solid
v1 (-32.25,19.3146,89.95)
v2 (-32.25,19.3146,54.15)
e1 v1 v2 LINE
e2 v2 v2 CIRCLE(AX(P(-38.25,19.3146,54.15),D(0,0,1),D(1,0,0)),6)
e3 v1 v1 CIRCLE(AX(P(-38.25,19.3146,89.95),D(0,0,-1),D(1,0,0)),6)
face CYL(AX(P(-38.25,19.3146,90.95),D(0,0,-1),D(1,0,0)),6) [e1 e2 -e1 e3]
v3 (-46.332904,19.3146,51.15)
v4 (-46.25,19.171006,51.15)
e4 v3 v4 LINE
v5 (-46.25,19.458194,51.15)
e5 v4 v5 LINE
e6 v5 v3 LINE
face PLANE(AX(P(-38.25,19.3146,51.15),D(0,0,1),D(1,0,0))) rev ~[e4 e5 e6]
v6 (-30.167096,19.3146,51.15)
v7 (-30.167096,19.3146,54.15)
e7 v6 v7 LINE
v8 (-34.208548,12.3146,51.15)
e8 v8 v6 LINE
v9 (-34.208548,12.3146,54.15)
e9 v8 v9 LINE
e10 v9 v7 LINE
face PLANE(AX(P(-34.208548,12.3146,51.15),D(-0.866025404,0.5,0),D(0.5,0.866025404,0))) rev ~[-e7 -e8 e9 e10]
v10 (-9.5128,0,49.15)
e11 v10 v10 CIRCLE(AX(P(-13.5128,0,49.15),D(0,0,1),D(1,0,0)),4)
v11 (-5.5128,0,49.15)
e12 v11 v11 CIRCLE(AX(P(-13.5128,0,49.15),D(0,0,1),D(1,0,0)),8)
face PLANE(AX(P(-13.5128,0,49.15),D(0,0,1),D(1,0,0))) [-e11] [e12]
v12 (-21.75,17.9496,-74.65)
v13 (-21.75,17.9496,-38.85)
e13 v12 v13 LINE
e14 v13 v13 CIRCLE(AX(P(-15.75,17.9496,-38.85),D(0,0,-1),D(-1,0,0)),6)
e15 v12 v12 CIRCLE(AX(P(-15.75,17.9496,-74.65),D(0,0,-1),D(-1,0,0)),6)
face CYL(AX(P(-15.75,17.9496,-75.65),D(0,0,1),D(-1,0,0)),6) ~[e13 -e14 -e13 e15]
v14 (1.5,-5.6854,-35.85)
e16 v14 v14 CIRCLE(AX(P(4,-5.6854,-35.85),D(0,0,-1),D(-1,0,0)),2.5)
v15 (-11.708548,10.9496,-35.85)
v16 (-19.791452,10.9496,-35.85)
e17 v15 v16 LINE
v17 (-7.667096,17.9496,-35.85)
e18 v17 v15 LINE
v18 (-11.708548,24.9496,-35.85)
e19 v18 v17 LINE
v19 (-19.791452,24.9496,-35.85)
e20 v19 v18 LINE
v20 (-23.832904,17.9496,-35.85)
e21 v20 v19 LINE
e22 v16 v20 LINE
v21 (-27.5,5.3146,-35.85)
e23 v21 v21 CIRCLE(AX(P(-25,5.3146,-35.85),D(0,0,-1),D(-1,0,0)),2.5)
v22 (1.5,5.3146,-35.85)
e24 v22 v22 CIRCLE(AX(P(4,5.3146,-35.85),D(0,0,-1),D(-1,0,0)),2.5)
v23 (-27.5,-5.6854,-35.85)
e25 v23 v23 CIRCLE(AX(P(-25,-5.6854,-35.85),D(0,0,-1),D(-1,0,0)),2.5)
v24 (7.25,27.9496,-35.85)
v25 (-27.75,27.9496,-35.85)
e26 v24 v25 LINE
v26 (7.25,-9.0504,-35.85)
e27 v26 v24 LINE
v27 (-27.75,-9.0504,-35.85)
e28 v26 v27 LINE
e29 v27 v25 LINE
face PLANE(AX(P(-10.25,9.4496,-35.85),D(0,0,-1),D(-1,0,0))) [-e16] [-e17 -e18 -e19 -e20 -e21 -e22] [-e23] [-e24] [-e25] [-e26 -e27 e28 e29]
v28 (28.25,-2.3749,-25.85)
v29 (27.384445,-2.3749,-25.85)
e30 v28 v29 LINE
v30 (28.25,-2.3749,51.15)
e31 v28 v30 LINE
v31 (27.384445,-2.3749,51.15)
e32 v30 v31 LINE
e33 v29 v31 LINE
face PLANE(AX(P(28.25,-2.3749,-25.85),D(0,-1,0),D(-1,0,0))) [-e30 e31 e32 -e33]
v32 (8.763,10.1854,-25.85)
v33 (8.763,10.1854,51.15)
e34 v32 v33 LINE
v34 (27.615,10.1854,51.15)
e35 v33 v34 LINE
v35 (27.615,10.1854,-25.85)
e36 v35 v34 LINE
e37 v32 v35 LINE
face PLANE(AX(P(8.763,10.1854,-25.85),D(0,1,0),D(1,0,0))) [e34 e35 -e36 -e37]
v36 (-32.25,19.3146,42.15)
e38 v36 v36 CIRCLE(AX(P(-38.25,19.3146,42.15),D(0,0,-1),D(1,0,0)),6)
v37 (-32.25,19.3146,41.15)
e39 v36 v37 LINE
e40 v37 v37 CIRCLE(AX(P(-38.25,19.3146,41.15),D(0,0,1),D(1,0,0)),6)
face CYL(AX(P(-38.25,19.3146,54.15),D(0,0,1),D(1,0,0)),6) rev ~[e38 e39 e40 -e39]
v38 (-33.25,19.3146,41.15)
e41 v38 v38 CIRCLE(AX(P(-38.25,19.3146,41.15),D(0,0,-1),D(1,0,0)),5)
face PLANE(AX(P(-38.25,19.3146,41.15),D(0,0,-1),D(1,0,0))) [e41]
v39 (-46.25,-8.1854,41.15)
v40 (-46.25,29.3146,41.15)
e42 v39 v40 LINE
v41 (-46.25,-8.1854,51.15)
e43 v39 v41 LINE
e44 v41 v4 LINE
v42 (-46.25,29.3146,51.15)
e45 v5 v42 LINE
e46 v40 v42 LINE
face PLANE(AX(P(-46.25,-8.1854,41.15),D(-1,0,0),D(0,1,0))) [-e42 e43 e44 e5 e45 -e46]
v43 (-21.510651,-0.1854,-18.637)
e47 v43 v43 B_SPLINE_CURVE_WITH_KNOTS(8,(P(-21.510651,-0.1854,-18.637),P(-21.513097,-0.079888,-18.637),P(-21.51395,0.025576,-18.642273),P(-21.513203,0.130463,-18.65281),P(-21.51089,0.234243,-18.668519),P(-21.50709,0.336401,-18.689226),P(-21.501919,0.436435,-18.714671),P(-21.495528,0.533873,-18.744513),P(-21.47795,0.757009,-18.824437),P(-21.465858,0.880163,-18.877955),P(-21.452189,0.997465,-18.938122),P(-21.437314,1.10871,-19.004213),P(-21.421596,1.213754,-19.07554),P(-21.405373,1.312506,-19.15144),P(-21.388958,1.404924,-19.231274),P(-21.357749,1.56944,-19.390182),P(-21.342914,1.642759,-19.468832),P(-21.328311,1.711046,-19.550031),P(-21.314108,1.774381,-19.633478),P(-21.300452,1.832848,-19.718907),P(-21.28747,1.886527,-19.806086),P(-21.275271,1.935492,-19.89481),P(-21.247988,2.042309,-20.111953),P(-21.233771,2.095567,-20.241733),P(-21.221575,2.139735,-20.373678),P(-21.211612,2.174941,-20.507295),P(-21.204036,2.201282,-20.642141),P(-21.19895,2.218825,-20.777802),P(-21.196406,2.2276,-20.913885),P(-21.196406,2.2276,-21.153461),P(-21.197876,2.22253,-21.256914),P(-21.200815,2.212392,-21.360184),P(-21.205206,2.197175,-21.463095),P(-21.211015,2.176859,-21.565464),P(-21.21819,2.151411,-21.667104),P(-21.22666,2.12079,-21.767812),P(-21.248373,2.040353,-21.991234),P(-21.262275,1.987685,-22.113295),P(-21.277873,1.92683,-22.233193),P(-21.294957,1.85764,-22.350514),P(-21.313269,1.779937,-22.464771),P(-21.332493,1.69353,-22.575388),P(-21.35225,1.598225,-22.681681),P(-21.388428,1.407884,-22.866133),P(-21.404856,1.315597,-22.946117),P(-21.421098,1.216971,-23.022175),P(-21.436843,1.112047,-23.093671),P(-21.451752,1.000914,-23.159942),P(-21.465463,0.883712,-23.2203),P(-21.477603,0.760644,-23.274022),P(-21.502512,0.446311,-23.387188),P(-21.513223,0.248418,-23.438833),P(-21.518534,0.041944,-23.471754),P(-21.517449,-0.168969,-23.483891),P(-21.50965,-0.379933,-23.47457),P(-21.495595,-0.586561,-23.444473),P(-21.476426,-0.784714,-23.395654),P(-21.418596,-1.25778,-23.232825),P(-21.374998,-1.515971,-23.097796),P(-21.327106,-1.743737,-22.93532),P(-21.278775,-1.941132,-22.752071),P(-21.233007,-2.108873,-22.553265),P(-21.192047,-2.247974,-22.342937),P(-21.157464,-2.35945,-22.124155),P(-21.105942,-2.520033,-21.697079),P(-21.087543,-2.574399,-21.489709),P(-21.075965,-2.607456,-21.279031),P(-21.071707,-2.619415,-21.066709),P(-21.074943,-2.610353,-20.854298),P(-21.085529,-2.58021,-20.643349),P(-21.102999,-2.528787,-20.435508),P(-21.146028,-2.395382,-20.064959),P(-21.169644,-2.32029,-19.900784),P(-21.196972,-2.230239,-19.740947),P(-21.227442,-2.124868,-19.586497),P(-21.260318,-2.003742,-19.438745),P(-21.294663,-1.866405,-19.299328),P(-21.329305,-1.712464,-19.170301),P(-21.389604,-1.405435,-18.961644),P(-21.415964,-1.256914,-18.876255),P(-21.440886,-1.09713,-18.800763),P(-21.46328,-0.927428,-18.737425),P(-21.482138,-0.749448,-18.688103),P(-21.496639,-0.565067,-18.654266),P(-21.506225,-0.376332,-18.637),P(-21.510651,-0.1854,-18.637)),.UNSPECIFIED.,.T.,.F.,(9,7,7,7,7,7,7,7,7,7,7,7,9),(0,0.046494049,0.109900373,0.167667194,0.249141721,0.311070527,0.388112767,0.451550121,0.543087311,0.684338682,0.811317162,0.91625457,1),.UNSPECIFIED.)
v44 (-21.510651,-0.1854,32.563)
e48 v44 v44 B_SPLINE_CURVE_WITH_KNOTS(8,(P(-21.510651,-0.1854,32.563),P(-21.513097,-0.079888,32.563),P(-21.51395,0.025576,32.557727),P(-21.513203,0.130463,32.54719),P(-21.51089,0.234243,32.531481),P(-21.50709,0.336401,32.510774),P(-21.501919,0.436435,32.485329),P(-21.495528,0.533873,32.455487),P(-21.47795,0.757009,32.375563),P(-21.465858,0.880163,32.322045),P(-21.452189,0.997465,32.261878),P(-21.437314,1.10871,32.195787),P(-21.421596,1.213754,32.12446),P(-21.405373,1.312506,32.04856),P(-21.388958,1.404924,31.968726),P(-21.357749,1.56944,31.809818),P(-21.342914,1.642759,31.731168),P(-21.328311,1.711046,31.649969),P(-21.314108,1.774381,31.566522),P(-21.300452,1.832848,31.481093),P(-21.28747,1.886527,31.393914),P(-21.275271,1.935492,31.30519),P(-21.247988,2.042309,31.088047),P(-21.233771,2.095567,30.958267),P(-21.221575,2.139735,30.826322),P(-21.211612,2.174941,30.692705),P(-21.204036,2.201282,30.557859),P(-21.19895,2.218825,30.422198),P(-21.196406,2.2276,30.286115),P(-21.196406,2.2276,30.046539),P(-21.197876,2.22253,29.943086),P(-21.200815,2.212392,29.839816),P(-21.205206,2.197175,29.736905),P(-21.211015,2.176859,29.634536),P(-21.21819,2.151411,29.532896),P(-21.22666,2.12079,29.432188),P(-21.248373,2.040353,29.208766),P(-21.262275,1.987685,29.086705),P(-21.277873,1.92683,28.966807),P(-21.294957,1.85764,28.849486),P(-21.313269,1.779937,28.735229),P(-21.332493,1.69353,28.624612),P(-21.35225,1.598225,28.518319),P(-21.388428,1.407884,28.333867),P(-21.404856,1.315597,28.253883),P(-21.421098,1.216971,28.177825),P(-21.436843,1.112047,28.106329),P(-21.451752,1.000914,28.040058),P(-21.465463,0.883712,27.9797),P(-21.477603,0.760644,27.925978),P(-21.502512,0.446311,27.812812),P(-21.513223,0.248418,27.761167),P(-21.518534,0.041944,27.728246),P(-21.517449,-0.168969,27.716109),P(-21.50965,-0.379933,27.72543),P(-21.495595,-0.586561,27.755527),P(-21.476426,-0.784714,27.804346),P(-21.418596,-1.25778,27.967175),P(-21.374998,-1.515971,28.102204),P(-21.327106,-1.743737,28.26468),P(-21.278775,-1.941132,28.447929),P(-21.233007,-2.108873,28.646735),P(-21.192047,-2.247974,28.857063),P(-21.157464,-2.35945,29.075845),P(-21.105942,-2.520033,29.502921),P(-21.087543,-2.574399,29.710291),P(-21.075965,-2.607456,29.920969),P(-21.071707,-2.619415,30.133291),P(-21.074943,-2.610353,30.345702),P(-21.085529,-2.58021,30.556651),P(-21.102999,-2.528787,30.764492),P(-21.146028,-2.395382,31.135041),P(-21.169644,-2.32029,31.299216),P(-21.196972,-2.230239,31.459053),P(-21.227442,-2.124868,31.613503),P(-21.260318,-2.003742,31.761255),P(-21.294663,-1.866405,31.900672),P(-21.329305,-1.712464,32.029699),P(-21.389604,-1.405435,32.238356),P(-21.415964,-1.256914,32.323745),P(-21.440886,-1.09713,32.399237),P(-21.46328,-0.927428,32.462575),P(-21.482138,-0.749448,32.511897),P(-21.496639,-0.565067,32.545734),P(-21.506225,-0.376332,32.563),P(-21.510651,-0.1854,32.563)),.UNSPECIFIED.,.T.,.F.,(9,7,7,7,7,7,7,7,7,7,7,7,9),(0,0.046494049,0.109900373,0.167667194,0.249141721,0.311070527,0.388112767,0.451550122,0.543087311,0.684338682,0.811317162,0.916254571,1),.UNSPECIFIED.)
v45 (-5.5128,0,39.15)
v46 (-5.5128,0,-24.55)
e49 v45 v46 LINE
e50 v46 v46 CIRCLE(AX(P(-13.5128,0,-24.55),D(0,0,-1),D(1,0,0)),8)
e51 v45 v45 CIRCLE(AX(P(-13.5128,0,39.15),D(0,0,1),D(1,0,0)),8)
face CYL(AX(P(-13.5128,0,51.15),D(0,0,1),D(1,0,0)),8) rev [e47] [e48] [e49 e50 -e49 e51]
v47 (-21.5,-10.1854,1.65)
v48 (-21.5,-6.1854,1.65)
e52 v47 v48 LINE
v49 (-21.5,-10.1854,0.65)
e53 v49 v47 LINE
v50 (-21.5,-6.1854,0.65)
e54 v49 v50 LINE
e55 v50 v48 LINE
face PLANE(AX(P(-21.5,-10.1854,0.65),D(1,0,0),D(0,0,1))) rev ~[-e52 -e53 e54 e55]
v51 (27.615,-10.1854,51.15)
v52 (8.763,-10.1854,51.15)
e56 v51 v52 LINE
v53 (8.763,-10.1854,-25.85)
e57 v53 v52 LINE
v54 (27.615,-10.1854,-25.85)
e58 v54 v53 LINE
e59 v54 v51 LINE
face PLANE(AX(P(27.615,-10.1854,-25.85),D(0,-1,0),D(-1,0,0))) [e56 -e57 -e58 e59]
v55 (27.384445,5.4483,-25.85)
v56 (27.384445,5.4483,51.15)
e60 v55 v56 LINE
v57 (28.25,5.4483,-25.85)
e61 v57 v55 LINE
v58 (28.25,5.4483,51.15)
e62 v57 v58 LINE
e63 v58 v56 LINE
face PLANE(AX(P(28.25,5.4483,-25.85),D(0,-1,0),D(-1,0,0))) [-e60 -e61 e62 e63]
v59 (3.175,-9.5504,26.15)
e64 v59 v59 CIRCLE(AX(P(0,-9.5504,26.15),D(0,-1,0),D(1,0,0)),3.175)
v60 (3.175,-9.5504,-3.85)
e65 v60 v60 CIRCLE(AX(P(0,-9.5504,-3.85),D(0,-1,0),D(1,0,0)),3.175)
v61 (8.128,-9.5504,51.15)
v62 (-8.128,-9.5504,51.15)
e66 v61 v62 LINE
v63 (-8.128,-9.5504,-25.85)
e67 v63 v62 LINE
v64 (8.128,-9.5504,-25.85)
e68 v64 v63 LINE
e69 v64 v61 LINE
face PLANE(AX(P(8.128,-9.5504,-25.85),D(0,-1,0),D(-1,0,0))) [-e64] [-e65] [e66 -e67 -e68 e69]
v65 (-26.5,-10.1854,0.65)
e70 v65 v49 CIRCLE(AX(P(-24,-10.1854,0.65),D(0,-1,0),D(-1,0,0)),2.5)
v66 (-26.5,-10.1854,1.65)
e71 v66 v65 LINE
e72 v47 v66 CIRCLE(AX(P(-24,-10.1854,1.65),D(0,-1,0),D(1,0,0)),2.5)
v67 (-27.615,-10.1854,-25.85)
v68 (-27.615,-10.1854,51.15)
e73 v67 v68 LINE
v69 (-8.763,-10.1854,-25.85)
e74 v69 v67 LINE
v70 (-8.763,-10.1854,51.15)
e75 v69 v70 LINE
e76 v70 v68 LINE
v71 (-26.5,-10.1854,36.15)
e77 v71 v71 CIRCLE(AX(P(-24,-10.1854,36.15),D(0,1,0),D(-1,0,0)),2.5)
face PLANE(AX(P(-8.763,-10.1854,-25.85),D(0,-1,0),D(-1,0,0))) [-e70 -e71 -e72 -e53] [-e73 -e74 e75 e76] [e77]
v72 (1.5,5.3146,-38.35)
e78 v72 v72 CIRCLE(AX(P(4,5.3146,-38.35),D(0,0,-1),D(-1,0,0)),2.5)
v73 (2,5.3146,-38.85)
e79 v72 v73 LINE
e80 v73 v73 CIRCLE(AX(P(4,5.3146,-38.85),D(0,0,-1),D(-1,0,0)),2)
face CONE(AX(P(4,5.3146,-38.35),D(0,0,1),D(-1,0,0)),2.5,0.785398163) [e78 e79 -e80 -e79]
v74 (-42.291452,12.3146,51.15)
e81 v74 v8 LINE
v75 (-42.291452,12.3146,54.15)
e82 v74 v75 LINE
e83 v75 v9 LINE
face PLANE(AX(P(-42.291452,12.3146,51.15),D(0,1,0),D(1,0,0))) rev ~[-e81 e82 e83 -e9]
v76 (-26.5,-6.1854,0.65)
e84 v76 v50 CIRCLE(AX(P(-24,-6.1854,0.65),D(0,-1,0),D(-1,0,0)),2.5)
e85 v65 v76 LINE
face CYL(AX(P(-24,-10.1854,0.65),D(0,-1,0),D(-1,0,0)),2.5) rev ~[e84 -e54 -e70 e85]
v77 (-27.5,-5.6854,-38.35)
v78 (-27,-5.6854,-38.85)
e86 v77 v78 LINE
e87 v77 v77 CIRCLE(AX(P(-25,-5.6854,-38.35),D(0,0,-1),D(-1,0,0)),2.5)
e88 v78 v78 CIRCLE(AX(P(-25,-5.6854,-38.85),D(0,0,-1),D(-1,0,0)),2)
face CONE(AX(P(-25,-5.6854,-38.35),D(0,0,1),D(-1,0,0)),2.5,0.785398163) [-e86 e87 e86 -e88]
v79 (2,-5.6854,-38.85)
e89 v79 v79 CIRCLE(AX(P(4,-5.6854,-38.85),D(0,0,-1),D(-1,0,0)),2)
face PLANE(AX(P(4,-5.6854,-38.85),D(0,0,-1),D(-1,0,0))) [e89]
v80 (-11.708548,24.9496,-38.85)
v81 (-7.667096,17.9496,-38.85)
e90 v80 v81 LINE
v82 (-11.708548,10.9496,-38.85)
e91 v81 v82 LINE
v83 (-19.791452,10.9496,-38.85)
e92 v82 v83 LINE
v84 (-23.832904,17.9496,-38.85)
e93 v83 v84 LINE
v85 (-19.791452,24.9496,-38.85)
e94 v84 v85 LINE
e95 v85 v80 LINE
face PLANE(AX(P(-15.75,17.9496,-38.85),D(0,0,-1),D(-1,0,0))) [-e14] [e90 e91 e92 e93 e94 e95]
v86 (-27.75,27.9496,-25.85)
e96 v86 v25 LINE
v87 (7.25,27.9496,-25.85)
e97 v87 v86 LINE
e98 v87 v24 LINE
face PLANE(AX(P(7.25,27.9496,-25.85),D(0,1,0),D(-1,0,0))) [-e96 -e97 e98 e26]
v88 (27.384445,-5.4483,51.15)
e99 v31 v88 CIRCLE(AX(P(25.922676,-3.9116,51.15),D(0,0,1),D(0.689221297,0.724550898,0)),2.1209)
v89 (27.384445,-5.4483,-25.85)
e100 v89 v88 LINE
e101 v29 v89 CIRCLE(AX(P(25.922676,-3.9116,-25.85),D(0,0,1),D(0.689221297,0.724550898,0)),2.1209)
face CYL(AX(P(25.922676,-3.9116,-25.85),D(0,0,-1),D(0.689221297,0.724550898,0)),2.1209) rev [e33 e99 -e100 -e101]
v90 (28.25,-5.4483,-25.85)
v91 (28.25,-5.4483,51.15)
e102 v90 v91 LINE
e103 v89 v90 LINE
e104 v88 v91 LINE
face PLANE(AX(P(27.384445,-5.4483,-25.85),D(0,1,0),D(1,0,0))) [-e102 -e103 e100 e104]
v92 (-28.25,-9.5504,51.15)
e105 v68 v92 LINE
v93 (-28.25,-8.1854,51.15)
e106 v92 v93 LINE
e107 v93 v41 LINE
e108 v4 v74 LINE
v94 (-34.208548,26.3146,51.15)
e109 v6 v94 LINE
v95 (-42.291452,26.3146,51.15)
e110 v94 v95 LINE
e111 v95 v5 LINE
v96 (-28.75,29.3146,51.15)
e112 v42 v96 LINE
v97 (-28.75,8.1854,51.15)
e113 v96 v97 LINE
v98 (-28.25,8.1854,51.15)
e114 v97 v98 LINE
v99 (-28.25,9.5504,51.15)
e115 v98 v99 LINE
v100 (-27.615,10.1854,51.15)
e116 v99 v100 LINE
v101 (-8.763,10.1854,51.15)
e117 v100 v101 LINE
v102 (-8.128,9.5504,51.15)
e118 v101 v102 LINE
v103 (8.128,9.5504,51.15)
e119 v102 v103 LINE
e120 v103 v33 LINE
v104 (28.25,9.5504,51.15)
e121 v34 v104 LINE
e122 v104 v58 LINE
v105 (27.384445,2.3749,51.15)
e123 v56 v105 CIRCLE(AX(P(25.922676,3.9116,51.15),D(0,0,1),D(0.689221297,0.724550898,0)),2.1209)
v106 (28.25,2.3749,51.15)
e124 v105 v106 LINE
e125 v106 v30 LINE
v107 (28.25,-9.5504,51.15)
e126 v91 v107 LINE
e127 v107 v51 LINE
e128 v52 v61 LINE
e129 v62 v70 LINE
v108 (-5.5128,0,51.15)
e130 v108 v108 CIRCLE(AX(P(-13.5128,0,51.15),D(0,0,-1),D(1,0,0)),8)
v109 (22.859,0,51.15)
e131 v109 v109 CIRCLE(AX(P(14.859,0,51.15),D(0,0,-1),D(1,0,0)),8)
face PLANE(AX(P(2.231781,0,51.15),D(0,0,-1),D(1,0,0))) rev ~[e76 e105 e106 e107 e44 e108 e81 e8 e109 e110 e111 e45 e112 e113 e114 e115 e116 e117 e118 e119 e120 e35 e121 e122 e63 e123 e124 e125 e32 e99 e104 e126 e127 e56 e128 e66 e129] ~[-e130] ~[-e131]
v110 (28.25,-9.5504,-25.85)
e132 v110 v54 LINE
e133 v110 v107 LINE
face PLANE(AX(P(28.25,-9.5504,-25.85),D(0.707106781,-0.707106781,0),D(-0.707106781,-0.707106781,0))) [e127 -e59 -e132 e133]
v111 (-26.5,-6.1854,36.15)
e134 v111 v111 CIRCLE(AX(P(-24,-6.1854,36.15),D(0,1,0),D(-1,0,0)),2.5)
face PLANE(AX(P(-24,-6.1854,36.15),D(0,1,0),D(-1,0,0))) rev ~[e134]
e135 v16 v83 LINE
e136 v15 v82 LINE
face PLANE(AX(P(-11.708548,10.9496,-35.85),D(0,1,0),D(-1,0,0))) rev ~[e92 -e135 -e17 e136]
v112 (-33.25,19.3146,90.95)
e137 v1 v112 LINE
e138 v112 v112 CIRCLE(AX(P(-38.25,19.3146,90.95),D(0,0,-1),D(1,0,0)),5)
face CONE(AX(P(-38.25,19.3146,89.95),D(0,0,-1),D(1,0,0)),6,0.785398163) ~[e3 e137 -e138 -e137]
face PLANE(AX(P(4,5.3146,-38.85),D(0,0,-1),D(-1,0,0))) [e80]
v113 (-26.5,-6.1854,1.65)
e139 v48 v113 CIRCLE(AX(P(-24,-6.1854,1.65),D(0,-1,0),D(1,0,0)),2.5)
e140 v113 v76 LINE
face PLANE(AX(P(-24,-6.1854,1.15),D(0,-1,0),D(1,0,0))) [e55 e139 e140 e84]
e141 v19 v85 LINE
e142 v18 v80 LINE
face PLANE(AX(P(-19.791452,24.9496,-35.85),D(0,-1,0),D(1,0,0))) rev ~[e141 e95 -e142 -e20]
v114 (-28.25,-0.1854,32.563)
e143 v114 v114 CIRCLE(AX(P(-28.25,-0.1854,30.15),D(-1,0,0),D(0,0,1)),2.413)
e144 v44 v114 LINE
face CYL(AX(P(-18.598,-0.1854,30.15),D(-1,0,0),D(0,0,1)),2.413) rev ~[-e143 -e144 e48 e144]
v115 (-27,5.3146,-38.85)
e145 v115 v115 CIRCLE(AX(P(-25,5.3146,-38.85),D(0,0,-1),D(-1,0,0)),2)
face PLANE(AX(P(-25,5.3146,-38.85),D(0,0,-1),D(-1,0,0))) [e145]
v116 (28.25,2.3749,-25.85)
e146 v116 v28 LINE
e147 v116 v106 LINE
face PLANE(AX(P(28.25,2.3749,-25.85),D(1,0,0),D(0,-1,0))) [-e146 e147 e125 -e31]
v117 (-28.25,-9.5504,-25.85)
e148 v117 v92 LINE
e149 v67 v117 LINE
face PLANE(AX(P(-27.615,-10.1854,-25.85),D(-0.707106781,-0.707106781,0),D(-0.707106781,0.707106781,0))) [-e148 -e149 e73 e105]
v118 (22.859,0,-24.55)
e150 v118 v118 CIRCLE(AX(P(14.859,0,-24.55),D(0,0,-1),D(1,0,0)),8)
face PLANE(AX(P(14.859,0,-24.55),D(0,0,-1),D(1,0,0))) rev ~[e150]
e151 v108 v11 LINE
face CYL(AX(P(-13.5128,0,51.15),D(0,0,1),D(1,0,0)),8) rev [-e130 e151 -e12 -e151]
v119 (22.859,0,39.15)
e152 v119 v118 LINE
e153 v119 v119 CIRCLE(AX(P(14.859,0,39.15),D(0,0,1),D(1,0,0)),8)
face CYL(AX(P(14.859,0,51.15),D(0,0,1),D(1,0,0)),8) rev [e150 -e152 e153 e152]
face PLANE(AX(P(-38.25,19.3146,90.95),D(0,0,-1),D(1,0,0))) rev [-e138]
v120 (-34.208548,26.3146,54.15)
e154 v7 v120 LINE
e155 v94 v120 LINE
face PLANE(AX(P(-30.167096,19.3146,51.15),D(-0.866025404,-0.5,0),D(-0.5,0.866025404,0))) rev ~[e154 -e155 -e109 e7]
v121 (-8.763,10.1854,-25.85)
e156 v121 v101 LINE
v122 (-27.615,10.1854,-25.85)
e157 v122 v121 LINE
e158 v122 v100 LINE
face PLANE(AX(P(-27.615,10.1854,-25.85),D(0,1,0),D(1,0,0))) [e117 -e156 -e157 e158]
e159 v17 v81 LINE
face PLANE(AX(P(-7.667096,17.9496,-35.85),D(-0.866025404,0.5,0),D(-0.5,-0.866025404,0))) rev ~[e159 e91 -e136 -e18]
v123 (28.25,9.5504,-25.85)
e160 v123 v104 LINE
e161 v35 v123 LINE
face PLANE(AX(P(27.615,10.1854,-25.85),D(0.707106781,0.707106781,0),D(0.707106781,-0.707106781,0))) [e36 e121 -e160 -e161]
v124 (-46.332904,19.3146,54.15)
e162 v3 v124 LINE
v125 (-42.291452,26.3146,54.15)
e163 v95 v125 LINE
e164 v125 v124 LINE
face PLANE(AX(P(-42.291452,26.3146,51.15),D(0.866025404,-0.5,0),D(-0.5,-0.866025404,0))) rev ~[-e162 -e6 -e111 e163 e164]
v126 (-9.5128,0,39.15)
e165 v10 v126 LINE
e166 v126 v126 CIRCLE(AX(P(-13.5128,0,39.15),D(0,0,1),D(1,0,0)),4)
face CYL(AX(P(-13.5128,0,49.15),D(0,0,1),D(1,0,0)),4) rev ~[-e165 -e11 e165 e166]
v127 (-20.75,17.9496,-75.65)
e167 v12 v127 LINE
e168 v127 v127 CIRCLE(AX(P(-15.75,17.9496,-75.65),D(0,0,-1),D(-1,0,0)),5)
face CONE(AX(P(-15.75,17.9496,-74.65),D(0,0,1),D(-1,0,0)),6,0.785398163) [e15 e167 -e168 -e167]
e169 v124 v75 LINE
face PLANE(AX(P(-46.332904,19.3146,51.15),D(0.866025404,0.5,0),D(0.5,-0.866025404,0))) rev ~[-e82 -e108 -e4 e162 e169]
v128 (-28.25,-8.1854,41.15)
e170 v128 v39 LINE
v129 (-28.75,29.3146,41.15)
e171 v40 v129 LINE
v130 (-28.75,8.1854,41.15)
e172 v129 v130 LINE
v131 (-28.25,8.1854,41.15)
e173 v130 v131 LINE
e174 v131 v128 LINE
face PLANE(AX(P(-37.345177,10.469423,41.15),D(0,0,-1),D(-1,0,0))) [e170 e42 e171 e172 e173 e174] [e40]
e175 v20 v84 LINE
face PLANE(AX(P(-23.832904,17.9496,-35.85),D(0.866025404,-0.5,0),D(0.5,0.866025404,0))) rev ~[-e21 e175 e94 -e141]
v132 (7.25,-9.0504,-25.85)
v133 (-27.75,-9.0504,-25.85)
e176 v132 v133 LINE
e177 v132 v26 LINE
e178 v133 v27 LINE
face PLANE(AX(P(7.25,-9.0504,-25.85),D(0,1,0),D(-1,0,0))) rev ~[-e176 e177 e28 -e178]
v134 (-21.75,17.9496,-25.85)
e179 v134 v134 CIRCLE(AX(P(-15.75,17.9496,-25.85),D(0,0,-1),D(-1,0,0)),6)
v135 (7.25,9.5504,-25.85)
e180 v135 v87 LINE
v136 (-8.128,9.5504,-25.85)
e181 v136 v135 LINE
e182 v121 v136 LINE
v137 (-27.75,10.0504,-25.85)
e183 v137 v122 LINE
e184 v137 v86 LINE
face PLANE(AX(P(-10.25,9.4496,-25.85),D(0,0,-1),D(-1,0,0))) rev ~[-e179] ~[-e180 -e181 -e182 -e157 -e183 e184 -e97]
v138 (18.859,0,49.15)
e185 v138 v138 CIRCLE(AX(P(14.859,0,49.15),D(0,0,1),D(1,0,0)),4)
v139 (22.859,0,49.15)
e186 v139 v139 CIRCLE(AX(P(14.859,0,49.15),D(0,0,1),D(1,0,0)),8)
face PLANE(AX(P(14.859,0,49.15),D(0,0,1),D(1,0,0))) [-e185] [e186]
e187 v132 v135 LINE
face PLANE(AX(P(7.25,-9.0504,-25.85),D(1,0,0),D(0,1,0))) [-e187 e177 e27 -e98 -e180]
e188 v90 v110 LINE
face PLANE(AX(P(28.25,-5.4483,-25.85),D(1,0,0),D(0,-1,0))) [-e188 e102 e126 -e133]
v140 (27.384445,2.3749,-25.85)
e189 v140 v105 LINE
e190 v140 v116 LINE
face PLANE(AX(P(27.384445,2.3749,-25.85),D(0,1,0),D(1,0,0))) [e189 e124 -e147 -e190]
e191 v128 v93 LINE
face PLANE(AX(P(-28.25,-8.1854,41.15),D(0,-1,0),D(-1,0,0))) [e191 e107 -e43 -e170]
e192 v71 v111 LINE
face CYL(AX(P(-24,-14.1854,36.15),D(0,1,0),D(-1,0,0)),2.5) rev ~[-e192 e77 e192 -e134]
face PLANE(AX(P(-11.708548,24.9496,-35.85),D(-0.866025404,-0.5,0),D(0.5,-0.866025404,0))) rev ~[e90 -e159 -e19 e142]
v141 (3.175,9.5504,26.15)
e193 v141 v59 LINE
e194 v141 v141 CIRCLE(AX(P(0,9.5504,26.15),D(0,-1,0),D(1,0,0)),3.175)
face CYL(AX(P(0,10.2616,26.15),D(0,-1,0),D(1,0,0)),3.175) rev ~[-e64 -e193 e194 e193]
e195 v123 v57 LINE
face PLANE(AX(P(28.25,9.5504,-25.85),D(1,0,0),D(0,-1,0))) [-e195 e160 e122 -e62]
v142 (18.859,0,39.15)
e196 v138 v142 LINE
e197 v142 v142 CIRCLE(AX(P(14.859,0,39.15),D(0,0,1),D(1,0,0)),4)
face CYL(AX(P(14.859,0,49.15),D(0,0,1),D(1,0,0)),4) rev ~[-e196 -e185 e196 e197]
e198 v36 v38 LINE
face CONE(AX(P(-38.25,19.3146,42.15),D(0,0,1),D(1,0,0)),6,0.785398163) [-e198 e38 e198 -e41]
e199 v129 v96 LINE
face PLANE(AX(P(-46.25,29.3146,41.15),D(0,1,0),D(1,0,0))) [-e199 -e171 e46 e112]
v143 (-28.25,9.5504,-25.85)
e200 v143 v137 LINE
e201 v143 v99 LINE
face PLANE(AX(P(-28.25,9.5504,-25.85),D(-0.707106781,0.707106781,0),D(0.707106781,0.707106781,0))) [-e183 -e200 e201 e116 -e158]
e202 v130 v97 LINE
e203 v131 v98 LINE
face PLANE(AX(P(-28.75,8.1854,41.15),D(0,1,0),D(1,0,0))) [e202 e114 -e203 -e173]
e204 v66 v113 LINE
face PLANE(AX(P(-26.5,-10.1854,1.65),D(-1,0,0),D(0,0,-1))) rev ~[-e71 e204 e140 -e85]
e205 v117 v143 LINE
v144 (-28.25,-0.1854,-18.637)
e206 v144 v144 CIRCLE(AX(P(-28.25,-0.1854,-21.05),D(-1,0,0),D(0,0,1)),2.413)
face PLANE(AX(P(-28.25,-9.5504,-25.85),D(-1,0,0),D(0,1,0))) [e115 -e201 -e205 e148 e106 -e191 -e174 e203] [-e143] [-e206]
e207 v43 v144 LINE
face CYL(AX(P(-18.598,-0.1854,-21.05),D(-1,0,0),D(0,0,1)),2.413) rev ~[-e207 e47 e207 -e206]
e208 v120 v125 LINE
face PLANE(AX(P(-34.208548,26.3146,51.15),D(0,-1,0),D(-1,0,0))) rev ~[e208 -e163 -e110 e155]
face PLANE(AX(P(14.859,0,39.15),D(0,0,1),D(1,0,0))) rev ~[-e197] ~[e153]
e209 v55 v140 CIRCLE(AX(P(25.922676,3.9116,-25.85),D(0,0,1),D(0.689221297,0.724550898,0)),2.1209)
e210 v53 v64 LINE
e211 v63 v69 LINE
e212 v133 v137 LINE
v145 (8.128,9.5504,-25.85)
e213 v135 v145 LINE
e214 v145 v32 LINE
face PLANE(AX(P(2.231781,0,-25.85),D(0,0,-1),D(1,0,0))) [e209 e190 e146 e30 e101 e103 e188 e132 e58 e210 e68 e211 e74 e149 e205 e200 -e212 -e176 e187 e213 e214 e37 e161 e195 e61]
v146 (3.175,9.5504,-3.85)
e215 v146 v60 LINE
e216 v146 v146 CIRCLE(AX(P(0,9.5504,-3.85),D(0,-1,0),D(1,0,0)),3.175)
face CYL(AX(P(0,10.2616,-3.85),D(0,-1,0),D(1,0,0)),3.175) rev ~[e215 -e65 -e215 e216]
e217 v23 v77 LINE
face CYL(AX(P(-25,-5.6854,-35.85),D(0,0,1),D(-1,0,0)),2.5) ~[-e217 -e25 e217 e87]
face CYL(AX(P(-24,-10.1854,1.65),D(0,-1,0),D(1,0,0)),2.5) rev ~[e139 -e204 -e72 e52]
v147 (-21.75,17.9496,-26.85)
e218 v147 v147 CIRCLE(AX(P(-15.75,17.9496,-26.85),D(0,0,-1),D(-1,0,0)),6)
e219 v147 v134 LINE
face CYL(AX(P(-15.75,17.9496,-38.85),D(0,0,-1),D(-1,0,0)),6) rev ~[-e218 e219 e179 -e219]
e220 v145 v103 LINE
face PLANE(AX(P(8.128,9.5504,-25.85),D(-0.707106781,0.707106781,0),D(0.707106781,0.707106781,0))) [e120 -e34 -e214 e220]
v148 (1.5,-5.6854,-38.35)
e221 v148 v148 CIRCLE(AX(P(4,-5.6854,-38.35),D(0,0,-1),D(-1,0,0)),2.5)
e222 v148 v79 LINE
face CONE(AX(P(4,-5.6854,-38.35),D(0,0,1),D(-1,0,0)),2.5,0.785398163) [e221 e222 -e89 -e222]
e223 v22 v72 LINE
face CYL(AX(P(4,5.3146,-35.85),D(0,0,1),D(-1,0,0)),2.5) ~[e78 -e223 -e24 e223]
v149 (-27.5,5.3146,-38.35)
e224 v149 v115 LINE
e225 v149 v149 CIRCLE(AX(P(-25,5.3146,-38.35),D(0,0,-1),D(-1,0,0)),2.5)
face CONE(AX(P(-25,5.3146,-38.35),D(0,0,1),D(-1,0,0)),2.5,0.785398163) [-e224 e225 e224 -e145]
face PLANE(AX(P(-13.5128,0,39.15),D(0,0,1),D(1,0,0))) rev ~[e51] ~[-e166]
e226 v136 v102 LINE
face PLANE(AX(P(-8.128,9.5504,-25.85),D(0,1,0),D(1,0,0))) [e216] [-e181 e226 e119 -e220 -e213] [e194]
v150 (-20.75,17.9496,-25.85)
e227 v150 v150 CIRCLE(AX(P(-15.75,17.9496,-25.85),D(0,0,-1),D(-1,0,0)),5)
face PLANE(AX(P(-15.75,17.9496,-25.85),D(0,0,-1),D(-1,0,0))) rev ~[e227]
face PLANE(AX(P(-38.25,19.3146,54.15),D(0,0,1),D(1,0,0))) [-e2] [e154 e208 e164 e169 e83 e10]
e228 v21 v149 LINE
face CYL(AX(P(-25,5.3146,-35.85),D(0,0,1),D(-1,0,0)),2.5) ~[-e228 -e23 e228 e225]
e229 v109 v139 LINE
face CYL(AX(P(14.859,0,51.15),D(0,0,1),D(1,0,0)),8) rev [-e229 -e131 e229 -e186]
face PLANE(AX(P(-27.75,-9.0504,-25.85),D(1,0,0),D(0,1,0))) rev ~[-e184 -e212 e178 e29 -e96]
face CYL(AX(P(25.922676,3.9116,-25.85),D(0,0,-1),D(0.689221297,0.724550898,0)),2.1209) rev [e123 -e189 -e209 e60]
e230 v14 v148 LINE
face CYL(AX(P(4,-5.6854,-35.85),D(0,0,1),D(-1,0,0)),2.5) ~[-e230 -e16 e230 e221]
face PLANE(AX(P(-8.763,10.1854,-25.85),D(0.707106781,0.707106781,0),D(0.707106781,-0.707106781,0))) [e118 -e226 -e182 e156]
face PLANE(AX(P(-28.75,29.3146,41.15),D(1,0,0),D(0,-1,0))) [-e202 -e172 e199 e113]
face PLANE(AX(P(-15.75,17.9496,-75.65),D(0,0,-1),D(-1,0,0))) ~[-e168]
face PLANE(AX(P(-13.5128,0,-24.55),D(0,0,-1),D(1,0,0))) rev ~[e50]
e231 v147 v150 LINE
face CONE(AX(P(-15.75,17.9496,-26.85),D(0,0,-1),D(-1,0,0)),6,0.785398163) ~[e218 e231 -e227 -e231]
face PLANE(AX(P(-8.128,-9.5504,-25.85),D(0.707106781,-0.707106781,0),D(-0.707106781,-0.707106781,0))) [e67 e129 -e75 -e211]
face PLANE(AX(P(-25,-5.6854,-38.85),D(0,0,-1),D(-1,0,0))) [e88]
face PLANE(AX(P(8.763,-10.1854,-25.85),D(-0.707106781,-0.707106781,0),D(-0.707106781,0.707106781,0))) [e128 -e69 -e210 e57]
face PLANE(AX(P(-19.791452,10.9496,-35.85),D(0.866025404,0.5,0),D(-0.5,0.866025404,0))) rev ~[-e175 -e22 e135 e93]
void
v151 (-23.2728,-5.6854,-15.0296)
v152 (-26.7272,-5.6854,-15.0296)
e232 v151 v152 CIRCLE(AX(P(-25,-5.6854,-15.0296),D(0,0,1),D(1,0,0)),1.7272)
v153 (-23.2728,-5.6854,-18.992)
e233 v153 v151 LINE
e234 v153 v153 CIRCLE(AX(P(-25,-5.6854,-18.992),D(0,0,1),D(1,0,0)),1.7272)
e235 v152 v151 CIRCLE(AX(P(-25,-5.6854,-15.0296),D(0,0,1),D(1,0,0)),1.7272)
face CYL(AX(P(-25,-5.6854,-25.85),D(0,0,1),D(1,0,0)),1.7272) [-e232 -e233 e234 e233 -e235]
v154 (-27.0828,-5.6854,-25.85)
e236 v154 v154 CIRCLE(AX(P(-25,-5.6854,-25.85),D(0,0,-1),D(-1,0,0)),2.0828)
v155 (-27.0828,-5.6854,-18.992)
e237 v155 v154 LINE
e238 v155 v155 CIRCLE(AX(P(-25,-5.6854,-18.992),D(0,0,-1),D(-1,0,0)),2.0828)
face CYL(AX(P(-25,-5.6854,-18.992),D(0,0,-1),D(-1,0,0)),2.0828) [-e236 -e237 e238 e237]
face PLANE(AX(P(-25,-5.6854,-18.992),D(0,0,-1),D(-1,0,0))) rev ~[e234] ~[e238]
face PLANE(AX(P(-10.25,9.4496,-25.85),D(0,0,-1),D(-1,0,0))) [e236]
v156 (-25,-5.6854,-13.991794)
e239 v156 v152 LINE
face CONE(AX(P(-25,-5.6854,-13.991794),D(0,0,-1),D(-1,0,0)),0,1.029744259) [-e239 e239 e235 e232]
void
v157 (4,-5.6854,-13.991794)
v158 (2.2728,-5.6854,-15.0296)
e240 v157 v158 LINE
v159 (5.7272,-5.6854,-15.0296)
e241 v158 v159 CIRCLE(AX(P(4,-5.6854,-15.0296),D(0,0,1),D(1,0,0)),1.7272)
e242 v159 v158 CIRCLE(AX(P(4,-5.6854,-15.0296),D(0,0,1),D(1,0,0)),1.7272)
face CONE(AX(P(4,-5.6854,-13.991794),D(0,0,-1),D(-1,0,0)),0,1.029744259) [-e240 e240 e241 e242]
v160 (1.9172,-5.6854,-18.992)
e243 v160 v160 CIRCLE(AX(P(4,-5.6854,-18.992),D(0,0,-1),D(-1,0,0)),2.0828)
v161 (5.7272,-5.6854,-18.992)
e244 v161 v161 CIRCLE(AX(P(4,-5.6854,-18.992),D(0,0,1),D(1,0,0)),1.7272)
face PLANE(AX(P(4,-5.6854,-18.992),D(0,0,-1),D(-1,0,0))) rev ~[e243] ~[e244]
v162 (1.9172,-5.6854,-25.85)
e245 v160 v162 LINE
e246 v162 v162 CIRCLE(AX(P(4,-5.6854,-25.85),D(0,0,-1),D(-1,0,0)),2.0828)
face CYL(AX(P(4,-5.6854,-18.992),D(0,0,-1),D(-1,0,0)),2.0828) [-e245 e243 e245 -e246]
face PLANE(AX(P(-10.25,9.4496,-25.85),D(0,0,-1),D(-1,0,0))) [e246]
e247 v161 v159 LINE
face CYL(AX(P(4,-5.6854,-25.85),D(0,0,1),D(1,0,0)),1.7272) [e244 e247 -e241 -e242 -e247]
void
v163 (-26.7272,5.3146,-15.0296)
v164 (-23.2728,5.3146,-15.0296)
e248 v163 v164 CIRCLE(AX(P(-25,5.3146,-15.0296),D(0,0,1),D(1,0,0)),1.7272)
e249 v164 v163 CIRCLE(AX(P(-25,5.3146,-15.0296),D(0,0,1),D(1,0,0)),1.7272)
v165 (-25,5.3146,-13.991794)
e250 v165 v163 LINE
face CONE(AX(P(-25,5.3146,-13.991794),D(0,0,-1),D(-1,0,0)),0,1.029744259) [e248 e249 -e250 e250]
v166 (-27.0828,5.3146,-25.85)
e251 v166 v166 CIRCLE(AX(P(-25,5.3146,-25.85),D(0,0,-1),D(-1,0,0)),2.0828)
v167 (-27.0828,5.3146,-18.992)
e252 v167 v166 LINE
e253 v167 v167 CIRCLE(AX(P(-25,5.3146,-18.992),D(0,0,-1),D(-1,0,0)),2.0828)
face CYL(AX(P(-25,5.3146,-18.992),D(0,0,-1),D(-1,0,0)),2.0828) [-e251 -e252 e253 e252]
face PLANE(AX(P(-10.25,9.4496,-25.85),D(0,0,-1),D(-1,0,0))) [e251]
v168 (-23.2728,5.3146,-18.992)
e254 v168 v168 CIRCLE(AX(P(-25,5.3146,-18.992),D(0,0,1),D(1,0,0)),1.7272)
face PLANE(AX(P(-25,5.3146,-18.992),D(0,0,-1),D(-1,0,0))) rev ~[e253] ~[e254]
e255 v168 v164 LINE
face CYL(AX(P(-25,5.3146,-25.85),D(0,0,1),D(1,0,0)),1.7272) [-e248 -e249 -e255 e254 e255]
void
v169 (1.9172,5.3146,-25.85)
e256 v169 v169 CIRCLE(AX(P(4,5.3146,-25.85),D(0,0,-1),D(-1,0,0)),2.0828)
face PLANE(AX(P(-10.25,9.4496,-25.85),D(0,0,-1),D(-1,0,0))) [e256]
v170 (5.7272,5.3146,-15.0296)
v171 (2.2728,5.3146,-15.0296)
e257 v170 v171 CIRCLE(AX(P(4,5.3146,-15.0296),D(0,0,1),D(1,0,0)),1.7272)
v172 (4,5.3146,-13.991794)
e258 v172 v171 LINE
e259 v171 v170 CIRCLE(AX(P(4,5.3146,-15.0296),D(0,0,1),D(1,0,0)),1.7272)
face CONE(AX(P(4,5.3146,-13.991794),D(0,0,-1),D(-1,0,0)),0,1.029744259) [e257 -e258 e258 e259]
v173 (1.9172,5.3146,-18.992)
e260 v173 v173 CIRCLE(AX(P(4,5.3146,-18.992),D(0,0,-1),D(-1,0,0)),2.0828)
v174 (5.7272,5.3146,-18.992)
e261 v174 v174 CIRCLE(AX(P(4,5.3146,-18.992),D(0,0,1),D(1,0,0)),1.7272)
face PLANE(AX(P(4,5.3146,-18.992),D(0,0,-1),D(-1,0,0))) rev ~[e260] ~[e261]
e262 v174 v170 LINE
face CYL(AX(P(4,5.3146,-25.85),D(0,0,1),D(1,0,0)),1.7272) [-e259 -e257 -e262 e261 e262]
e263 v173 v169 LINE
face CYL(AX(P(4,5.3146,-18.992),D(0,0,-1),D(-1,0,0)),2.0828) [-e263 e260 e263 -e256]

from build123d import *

# Parameters (mm, degrees)
BASE_EXTRUDE_START                = -77
BASE_EXTRUDE_DEPTH                = 77
SKETCH2_R                         = 8
CUT_EXTRUDE1_DEPTH                = 75.7
SKETCH4_R                         = 8
BOSS_EXTRUDE1_DEPTH               = 10
CUT_EXTRUDE3_REACH                = 82.789
SKETCH19_R                        = 4
F_1_4_20_TAPPED_HOLE1_D           = 5.1054
F_1_4_20_TAPPED_HOLE1_DEPTH       = 26.162
F_1_4_20_TAPPED_HOLE1_CBORE_D     = 6.35
F_1_4_20_TAPPED_HOLE1_CBORE_DEPTH = 19.812
F_1_4_20_TAPPED_HOLE1_TIP         = 1.533816902
F_8_32_TAPPED_HOLE1_D             = 3.4544
F_8_32_TAPPED_HOLE1_DEPTH         = 10.8204
F_8_32_TAPPED_HOLE1_CBORE_D       = 4.1656
F_8_32_TAPPED_HOLE1_CBORE_DEPTH   = 6.858
F_8_32_TAPPED_HOLE1_TIP           = 1.037806461
HOLE1_D                           = 5
HOLE1_DEPTH                       = 4
CUT_EXTRUDE4_DEPTH                = 4
F_10_32_TAPPED_HOLE1_D            = 4.0386
F_10_32_TAPPED_HOLE1_DEPTH        = 13.6144
F_10_32_TAPPED_HOLE1_CBORE_D      = 4.826
F_10_32_TAPPED_HOLE1_CBORE_DEPTH  = 9.652
F_10_32_TAPPED_HOLE1_TIP          = 1.213317848
SKETCH30_W                        = 35
SKETCH30_H                        = 37
BOSS_EXTRUDE2_DEPTH               = 10
BOSS_EXTRUDE3_DEPTH               = 3
SKETCH35_R                        = 2.5
BOSS_EXTRUDE5_DEPTH               = 3
CHAMFER2_SIZE                     = 0.5
BOSS_EXTRUDE6_DEPTH               = 10
BOSS_EXTRUDE7_DEPTH               = 3
CUT_EXTRUDE7_REACH                = 109.959
SKETCH38_R                        = 6
CUT_EXTRUDE8_REACH                = 142.905
SKETCH46_R                        = 6
CHAMFER3_SIZE                     = 1


with BuildPart() as part:
    # Sketch1 → Base-Extrude (new body)
    with BuildSketch(Plane(origin=(0, 0, 51.15), x_dir=(-1, 0, 0), z_dir=(0, 0, 1)).offset(BASE_EXTRUDE_START)):
        with BuildLine():
            Line((27.615, 10.1854), (28.25, 9.5504))
            Line((28.25, 9.5504), (28.25, -9.5504))
            Line((28.25, -9.5504), (27.615, -10.1854))
            Line((27.615, -10.1854), (8.763, -10.1854))
            Line((8.763, -10.1854), (8.128, -9.5504))
            Line((8.128, -9.5504), (-8.128, -9.5504))
            Line((-8.128, -9.5504), (-8.763, -10.1854))
            Line((-8.763, -10.1854), (-27.615, -10.1854))
            Line((-27.615, -10.1854), (-28.25, -9.5504))
            Line((-28.25, -9.5504), (-28.25, -5.4483))
            Line((-28.25, -5.4483), (-27.384444989, -5.4483))
            ThreePointArc((-27.384444989, -5.4483), (-23.801775541, -3.9116), (-27.384444989, -2.3749))
            Line((-27.384444989, -2.3749), (-28.25, -2.3749))
            Line((-28.25, -2.3749), (-28.25, 2.3749))
            Line((-28.25, 2.3749), (-27.384444989, 2.3749))
            ThreePointArc((-27.384444989, 2.3749), (-23.801775541, 3.9116), (-27.384444989, 5.4483))
            Line((-27.384444989, 5.4483), (-28.25, 5.4483))
            Line((-28.25, 5.4483), (-28.25, 9.5504))
            Line((-28.25, 9.5504), (-27.615, 10.1854))
            Line((-27.615, 10.1854), (-8.763, 10.1854))
            Line((-8.763, 10.1854), (-8.128, 9.5504))
            Line((-8.128, 9.5504), (8.128, 9.5504))
            Line((8.128, 9.5504), (8.763, 10.1854))
            Line((8.763, 10.1854), (27.615, 10.1854))
        make_face()
    extrude(amount=BASE_EXTRUDE_DEPTH)

    # Sketch2 → Cut-Extrude1 (cut)
    with BuildSketch(Plane(origin=(0, 0, 51.15), x_dir=(-1, 0, 0), z_dir=(0, 0, -1))):
        with Locations(Location((-14.859, 0, 0), (0, 0, 180))):
            Circle(SKETCH2_R)
        with Locations(Location((13.5128, 0, 0), (0, 0, 180))):
            Circle(SKETCH2_R)
    extrude(amount=CUT_EXTRUDE1_DEPTH, mode=Mode.SUBTRACT)

    # Sketch4 → Boss-Extrude1 (add)
    with BuildSketch(Plane.XY.offset(49.15)):
        with Locations((14.859, 0)):
            Circle(SKETCH4_R)
        with Locations((-13.5128, 0)):
            Circle(SKETCH4_R)
    extrude(amount=-BOSS_EXTRUDE1_DEPTH)

    # Sketch19 → Cut-Extrude3 (cut, up to next)
    with BuildSketch(Plane.XY.offset(49.15), mode=Mode.PRIVATE) as cut_extrude3_sk1:
        with Locations((14.859, 0)):
            Circle(SKETCH19_R)
    cut_extrude3_tool1 = extrude(cut_extrude3_sk1.sketch, amount=-CUT_EXTRUDE3_REACH, mode=Mode.PRIVATE) & part.part
    # Sketch19 → Cut-Extrude3 (cut, up to next)
    with BuildSketch(Plane.XY.offset(49.15), mode=Mode.PRIVATE) as cut_extrude3_sk2:
        with Locations((-13.5128, 0)):
            Circle(SKETCH19_R)
    cut_extrude3_tool2 = extrude(cut_extrude3_sk2.sketch, amount=-CUT_EXTRUDE3_REACH, mode=Mode.PRIVATE) & part.part
    add(cut_extrude3_tool1.solids().sort_by_distance((14.859, 0, 49.15))[0], mode=Mode.SUBTRACT)
    add(cut_extrude3_tool2.solids().sort_by_distance((-13.5128, 0, 49.15))[0], mode=Mode.SUBTRACT)

    # 1/4-20 Tapped Hole1
    with Locations(Plane.XZ.offset(9.5504)):
        with Locations((0, 26.15), (0, -3.85)):
            CounterBoreHole(F_1_4_20_TAPPED_HOLE1_D / 2, F_1_4_20_TAPPED_HOLE1_CBORE_D / 2, F_1_4_20_TAPPED_HOLE1_CBORE_DEPTH, depth=F_1_4_20_TAPPED_HOLE1_DEPTH)
            with Locations((0, 0, -(F_1_4_20_TAPPED_HOLE1_DEPTH + F_1_4_20_TAPPED_HOLE1_TIP / 2))):  # 118° drill point
                Cone(0, F_1_4_20_TAPPED_HOLE1_D / 2, F_1_4_20_TAPPED_HOLE1_TIP, mode=Mode.SUBTRACT)

    # #8-32 Tapped Hole1
    with Locations(Plane(origin=(0, 0, -25.85), x_dir=(-1, 0, 0), z_dir=(0, 0, -1))):
        with Locations((25, -5.6854), (25, 5.3146), (-4, -5.6854), (-4, 5.3146)):
            CounterBoreHole(F_8_32_TAPPED_HOLE1_D / 2, F_8_32_TAPPED_HOLE1_CBORE_D / 2, F_8_32_TAPPED_HOLE1_CBORE_DEPTH, depth=F_8_32_TAPPED_HOLE1_DEPTH)
            with Locations((0, 0, -(F_8_32_TAPPED_HOLE1_DEPTH + F_8_32_TAPPED_HOLE1_TIP / 2))):  # 118° drill point
                Cone(0, F_8_32_TAPPED_HOLE1_D / 2, F_8_32_TAPPED_HOLE1_TIP, mode=Mode.SUBTRACT)

    # Hole1
    with Locations(Plane.XZ.offset(10.1854)):
        with Locations((-24, 36.15)):
            Hole(HOLE1_D / 2, depth=HOLE1_DEPTH)

    # Sketch27 → Cut-Extrude4 (cut)
    with BuildSketch(Plane.XZ.offset(10.1854)):
        with BuildLine():
            Line((-26.5, 1.65), (-26.5, 0.65))
            ThreePointArc((-26.5, 0.65), (-24, -1.85), (-21.5, 0.65))
            Line((-21.5, 0.65), (-21.5, 1.65))
            ThreePointArc((-21.5, 1.65), (-24, 4.15), (-26.5, 1.65))
        make_face()
    extrude(amount=-CUT_EXTRUDE4_DEPTH, mode=Mode.SUBTRACT)

    # #10-32 Tapped Hole1
    with Locations(Plane.ZY.offset(28.25)):
        with Locations((30.15, -0.1854), (-21.05, -0.1854)):
            CounterBoreHole(F_10_32_TAPPED_HOLE1_D / 2, F_10_32_TAPPED_HOLE1_CBORE_D / 2, F_10_32_TAPPED_HOLE1_CBORE_DEPTH, depth=F_10_32_TAPPED_HOLE1_DEPTH)
            with Locations((0, 0, -(F_10_32_TAPPED_HOLE1_DEPTH + F_10_32_TAPPED_HOLE1_TIP / 2))):  # 118° drill point
                Cone(0, F_10_32_TAPPED_HOLE1_D / 2, F_10_32_TAPPED_HOLE1_TIP, mode=Mode.SUBTRACT)

    # Sketch30 → Boss-Extrude2 (add)
    with BuildSketch(Plane(origin=(0, 0, -25.85), x_dir=(-1, 0, 0), z_dir=(0, 0, -1))):
        with Locations((10.25, 9.4496)):
            Rectangle(SKETCH30_W, SKETCH30_H)
    extrude(amount=BOSS_EXTRUDE2_DEPTH)

    # Sketch31 → Boss-Extrude3 (add)
    with BuildSketch(Plane(origin=(0, 0, -35.85), x_dir=(-1, 0, 0), z_dir=(0, 0, -1))):
        Polygon((23.832903769, 17.9496), (19.791451884, 24.9496), (11.708548116, 24.9496), (7.667096231, 17.9496), (11.708548116, 10.9496), (19.791451884, 10.9496), align=None)
    extrude(amount=BOSS_EXTRUDE3_DEPTH)

    # Sketch35 → Boss-Extrude5 (add)
    with BuildSketch(Plane(origin=(0, 0, -35.85), x_dir=(-1, 0, 0), z_dir=(0, 0, -1))):
        with Locations((25, 5.3146)):
            Circle(SKETCH35_R)
        with Locations((-4, 5.3146)):
            Circle(SKETCH35_R)
        with Locations((-4, -5.6854)):
            Circle(SKETCH35_R)
        with Locations((25, -5.6854)):
            Circle(SKETCH35_R)
    extrude(amount=BOSS_EXTRUDE5_DEPTH)

    # Chamfer2
    chamfer2_edges = [part.edges().sort_by_distance(p)[0] for p in [
        (-22.5, 5.3146, -38.85),
        (6.5, 5.3146, -38.85),
        (6.5, -5.6854, -38.85),
        (-22.5, -5.6854, -38.85),
    ]]
    chamfer(chamfer2_edges, length=CHAMFER2_SIZE)

    # Sketch36 → Boss-Extrude6 (add)
    with BuildSketch(Plane.XY.offset(41.15)):
        Polygon((-28.75, 29.3146), (-28.75, 8.1854), (-28.25, 8.1854), (-28.25, -8.1854), (-46.25, -8.1854), (-46.25, 29.3146), align=None)
    extrude(amount=BOSS_EXTRUDE6_DEPTH)

    # Sketch37 → Boss-Extrude7 (add)
    with BuildSketch(Plane.XY.offset(51.15)):
        Polygon((-34.208548116, 26.3146), (-42.291451884, 26.3146), (-46.332903769, 19.3146), (-42.291451884, 12.3146), (-34.208548116, 12.3146), (-30.167096231, 19.3146), align=None)
    extrude(amount=BOSS_EXTRUDE7_DEPTH)

    # Sketch38 → Cut-Extrude7 (cut, up to next)
    with BuildSketch(Plane.XY.offset(54.15), mode=Mode.PRIVATE) as cut_extrude7_sk1:
        with Locations((-38.25, 19.3146)):
            Circle(SKETCH38_R)
    cut_extrude7_tool1 = extrude(cut_extrude7_sk1.sketch, amount=-CUT_EXTRUDE7_REACH, mode=Mode.PRIVATE) & part.part
    add(cut_extrude7_tool1.solids().sort_by_distance((-38.25, 19.3146, 54.15))[0], mode=Mode.SUBTRACT)

    # Sketch44 → Boss-Revolve1 (revolve)
    with BuildSketch(Plane(origin=(0, 19.3146, 0), x_dir=(-1, 0, 0), z_dir=(0, 1, 0)), mode=Mode.PRIVATE) as boss_revolve1_sk:
        Polygon((38.25, 90.95), (44.25, 90.95), (44.25, 42.15), (43.25, 41.15), (38.25, 41.15), align=None)
    revolve(boss_revolve1_sk.sketch.rotate(Axis((-38.25, 19.3146, 54.15), (0, 0, -1)), 180), axis=Axis((-38.25, 19.3146, 54.15), (0, 0, -1)))

    # Sketch46 → Cut-Extrude8 (cut, up to next)
    with BuildSketch(Plane(origin=(0, 0, -38.85), x_dir=(-1, 0, 0), z_dir=(0, 0, -1)), mode=Mode.PRIVATE) as cut_extrude8_sk1:
        with Locations((15.75, 17.9496)):
            Circle(SKETCH46_R)
    cut_extrude8_tool1 = extrude(cut_extrude8_sk1.sketch, amount=-CUT_EXTRUDE8_REACH, mode=Mode.PRIVATE) & part.part
    add(cut_extrude8_tool1.solids().sort_by_distance((-15.75, 17.9496, -38.85))[0], mode=Mode.SUBTRACT)

    # Sketch47 → Boss-Revolve2 (revolve)
    with BuildSketch(Plane(origin=(0, 17.9496, 0), x_dir=(-1, 0, 0), z_dir=(0, 1, 0))):
        Polygon((20.75, -25.85), (15.75, -25.85), (15.75, -75.65), (21.75, -75.65), (21.75, -26.85), align=None)
    revolve(axis=Axis((-15.75, 17.9496, -25.85), (0, 0, -1)))

    # Chamfer3
    chamfer3_edges = [part.edges().sort_by_distance(p)[0] for p in [
        (-44.25, 19.3146, 90.95),
        (-9.75, 17.9496, -75.65),
    ]]
    chamfer(chamfer3_edges, length=CHAMFER3_SIZE)


solid = part.part
